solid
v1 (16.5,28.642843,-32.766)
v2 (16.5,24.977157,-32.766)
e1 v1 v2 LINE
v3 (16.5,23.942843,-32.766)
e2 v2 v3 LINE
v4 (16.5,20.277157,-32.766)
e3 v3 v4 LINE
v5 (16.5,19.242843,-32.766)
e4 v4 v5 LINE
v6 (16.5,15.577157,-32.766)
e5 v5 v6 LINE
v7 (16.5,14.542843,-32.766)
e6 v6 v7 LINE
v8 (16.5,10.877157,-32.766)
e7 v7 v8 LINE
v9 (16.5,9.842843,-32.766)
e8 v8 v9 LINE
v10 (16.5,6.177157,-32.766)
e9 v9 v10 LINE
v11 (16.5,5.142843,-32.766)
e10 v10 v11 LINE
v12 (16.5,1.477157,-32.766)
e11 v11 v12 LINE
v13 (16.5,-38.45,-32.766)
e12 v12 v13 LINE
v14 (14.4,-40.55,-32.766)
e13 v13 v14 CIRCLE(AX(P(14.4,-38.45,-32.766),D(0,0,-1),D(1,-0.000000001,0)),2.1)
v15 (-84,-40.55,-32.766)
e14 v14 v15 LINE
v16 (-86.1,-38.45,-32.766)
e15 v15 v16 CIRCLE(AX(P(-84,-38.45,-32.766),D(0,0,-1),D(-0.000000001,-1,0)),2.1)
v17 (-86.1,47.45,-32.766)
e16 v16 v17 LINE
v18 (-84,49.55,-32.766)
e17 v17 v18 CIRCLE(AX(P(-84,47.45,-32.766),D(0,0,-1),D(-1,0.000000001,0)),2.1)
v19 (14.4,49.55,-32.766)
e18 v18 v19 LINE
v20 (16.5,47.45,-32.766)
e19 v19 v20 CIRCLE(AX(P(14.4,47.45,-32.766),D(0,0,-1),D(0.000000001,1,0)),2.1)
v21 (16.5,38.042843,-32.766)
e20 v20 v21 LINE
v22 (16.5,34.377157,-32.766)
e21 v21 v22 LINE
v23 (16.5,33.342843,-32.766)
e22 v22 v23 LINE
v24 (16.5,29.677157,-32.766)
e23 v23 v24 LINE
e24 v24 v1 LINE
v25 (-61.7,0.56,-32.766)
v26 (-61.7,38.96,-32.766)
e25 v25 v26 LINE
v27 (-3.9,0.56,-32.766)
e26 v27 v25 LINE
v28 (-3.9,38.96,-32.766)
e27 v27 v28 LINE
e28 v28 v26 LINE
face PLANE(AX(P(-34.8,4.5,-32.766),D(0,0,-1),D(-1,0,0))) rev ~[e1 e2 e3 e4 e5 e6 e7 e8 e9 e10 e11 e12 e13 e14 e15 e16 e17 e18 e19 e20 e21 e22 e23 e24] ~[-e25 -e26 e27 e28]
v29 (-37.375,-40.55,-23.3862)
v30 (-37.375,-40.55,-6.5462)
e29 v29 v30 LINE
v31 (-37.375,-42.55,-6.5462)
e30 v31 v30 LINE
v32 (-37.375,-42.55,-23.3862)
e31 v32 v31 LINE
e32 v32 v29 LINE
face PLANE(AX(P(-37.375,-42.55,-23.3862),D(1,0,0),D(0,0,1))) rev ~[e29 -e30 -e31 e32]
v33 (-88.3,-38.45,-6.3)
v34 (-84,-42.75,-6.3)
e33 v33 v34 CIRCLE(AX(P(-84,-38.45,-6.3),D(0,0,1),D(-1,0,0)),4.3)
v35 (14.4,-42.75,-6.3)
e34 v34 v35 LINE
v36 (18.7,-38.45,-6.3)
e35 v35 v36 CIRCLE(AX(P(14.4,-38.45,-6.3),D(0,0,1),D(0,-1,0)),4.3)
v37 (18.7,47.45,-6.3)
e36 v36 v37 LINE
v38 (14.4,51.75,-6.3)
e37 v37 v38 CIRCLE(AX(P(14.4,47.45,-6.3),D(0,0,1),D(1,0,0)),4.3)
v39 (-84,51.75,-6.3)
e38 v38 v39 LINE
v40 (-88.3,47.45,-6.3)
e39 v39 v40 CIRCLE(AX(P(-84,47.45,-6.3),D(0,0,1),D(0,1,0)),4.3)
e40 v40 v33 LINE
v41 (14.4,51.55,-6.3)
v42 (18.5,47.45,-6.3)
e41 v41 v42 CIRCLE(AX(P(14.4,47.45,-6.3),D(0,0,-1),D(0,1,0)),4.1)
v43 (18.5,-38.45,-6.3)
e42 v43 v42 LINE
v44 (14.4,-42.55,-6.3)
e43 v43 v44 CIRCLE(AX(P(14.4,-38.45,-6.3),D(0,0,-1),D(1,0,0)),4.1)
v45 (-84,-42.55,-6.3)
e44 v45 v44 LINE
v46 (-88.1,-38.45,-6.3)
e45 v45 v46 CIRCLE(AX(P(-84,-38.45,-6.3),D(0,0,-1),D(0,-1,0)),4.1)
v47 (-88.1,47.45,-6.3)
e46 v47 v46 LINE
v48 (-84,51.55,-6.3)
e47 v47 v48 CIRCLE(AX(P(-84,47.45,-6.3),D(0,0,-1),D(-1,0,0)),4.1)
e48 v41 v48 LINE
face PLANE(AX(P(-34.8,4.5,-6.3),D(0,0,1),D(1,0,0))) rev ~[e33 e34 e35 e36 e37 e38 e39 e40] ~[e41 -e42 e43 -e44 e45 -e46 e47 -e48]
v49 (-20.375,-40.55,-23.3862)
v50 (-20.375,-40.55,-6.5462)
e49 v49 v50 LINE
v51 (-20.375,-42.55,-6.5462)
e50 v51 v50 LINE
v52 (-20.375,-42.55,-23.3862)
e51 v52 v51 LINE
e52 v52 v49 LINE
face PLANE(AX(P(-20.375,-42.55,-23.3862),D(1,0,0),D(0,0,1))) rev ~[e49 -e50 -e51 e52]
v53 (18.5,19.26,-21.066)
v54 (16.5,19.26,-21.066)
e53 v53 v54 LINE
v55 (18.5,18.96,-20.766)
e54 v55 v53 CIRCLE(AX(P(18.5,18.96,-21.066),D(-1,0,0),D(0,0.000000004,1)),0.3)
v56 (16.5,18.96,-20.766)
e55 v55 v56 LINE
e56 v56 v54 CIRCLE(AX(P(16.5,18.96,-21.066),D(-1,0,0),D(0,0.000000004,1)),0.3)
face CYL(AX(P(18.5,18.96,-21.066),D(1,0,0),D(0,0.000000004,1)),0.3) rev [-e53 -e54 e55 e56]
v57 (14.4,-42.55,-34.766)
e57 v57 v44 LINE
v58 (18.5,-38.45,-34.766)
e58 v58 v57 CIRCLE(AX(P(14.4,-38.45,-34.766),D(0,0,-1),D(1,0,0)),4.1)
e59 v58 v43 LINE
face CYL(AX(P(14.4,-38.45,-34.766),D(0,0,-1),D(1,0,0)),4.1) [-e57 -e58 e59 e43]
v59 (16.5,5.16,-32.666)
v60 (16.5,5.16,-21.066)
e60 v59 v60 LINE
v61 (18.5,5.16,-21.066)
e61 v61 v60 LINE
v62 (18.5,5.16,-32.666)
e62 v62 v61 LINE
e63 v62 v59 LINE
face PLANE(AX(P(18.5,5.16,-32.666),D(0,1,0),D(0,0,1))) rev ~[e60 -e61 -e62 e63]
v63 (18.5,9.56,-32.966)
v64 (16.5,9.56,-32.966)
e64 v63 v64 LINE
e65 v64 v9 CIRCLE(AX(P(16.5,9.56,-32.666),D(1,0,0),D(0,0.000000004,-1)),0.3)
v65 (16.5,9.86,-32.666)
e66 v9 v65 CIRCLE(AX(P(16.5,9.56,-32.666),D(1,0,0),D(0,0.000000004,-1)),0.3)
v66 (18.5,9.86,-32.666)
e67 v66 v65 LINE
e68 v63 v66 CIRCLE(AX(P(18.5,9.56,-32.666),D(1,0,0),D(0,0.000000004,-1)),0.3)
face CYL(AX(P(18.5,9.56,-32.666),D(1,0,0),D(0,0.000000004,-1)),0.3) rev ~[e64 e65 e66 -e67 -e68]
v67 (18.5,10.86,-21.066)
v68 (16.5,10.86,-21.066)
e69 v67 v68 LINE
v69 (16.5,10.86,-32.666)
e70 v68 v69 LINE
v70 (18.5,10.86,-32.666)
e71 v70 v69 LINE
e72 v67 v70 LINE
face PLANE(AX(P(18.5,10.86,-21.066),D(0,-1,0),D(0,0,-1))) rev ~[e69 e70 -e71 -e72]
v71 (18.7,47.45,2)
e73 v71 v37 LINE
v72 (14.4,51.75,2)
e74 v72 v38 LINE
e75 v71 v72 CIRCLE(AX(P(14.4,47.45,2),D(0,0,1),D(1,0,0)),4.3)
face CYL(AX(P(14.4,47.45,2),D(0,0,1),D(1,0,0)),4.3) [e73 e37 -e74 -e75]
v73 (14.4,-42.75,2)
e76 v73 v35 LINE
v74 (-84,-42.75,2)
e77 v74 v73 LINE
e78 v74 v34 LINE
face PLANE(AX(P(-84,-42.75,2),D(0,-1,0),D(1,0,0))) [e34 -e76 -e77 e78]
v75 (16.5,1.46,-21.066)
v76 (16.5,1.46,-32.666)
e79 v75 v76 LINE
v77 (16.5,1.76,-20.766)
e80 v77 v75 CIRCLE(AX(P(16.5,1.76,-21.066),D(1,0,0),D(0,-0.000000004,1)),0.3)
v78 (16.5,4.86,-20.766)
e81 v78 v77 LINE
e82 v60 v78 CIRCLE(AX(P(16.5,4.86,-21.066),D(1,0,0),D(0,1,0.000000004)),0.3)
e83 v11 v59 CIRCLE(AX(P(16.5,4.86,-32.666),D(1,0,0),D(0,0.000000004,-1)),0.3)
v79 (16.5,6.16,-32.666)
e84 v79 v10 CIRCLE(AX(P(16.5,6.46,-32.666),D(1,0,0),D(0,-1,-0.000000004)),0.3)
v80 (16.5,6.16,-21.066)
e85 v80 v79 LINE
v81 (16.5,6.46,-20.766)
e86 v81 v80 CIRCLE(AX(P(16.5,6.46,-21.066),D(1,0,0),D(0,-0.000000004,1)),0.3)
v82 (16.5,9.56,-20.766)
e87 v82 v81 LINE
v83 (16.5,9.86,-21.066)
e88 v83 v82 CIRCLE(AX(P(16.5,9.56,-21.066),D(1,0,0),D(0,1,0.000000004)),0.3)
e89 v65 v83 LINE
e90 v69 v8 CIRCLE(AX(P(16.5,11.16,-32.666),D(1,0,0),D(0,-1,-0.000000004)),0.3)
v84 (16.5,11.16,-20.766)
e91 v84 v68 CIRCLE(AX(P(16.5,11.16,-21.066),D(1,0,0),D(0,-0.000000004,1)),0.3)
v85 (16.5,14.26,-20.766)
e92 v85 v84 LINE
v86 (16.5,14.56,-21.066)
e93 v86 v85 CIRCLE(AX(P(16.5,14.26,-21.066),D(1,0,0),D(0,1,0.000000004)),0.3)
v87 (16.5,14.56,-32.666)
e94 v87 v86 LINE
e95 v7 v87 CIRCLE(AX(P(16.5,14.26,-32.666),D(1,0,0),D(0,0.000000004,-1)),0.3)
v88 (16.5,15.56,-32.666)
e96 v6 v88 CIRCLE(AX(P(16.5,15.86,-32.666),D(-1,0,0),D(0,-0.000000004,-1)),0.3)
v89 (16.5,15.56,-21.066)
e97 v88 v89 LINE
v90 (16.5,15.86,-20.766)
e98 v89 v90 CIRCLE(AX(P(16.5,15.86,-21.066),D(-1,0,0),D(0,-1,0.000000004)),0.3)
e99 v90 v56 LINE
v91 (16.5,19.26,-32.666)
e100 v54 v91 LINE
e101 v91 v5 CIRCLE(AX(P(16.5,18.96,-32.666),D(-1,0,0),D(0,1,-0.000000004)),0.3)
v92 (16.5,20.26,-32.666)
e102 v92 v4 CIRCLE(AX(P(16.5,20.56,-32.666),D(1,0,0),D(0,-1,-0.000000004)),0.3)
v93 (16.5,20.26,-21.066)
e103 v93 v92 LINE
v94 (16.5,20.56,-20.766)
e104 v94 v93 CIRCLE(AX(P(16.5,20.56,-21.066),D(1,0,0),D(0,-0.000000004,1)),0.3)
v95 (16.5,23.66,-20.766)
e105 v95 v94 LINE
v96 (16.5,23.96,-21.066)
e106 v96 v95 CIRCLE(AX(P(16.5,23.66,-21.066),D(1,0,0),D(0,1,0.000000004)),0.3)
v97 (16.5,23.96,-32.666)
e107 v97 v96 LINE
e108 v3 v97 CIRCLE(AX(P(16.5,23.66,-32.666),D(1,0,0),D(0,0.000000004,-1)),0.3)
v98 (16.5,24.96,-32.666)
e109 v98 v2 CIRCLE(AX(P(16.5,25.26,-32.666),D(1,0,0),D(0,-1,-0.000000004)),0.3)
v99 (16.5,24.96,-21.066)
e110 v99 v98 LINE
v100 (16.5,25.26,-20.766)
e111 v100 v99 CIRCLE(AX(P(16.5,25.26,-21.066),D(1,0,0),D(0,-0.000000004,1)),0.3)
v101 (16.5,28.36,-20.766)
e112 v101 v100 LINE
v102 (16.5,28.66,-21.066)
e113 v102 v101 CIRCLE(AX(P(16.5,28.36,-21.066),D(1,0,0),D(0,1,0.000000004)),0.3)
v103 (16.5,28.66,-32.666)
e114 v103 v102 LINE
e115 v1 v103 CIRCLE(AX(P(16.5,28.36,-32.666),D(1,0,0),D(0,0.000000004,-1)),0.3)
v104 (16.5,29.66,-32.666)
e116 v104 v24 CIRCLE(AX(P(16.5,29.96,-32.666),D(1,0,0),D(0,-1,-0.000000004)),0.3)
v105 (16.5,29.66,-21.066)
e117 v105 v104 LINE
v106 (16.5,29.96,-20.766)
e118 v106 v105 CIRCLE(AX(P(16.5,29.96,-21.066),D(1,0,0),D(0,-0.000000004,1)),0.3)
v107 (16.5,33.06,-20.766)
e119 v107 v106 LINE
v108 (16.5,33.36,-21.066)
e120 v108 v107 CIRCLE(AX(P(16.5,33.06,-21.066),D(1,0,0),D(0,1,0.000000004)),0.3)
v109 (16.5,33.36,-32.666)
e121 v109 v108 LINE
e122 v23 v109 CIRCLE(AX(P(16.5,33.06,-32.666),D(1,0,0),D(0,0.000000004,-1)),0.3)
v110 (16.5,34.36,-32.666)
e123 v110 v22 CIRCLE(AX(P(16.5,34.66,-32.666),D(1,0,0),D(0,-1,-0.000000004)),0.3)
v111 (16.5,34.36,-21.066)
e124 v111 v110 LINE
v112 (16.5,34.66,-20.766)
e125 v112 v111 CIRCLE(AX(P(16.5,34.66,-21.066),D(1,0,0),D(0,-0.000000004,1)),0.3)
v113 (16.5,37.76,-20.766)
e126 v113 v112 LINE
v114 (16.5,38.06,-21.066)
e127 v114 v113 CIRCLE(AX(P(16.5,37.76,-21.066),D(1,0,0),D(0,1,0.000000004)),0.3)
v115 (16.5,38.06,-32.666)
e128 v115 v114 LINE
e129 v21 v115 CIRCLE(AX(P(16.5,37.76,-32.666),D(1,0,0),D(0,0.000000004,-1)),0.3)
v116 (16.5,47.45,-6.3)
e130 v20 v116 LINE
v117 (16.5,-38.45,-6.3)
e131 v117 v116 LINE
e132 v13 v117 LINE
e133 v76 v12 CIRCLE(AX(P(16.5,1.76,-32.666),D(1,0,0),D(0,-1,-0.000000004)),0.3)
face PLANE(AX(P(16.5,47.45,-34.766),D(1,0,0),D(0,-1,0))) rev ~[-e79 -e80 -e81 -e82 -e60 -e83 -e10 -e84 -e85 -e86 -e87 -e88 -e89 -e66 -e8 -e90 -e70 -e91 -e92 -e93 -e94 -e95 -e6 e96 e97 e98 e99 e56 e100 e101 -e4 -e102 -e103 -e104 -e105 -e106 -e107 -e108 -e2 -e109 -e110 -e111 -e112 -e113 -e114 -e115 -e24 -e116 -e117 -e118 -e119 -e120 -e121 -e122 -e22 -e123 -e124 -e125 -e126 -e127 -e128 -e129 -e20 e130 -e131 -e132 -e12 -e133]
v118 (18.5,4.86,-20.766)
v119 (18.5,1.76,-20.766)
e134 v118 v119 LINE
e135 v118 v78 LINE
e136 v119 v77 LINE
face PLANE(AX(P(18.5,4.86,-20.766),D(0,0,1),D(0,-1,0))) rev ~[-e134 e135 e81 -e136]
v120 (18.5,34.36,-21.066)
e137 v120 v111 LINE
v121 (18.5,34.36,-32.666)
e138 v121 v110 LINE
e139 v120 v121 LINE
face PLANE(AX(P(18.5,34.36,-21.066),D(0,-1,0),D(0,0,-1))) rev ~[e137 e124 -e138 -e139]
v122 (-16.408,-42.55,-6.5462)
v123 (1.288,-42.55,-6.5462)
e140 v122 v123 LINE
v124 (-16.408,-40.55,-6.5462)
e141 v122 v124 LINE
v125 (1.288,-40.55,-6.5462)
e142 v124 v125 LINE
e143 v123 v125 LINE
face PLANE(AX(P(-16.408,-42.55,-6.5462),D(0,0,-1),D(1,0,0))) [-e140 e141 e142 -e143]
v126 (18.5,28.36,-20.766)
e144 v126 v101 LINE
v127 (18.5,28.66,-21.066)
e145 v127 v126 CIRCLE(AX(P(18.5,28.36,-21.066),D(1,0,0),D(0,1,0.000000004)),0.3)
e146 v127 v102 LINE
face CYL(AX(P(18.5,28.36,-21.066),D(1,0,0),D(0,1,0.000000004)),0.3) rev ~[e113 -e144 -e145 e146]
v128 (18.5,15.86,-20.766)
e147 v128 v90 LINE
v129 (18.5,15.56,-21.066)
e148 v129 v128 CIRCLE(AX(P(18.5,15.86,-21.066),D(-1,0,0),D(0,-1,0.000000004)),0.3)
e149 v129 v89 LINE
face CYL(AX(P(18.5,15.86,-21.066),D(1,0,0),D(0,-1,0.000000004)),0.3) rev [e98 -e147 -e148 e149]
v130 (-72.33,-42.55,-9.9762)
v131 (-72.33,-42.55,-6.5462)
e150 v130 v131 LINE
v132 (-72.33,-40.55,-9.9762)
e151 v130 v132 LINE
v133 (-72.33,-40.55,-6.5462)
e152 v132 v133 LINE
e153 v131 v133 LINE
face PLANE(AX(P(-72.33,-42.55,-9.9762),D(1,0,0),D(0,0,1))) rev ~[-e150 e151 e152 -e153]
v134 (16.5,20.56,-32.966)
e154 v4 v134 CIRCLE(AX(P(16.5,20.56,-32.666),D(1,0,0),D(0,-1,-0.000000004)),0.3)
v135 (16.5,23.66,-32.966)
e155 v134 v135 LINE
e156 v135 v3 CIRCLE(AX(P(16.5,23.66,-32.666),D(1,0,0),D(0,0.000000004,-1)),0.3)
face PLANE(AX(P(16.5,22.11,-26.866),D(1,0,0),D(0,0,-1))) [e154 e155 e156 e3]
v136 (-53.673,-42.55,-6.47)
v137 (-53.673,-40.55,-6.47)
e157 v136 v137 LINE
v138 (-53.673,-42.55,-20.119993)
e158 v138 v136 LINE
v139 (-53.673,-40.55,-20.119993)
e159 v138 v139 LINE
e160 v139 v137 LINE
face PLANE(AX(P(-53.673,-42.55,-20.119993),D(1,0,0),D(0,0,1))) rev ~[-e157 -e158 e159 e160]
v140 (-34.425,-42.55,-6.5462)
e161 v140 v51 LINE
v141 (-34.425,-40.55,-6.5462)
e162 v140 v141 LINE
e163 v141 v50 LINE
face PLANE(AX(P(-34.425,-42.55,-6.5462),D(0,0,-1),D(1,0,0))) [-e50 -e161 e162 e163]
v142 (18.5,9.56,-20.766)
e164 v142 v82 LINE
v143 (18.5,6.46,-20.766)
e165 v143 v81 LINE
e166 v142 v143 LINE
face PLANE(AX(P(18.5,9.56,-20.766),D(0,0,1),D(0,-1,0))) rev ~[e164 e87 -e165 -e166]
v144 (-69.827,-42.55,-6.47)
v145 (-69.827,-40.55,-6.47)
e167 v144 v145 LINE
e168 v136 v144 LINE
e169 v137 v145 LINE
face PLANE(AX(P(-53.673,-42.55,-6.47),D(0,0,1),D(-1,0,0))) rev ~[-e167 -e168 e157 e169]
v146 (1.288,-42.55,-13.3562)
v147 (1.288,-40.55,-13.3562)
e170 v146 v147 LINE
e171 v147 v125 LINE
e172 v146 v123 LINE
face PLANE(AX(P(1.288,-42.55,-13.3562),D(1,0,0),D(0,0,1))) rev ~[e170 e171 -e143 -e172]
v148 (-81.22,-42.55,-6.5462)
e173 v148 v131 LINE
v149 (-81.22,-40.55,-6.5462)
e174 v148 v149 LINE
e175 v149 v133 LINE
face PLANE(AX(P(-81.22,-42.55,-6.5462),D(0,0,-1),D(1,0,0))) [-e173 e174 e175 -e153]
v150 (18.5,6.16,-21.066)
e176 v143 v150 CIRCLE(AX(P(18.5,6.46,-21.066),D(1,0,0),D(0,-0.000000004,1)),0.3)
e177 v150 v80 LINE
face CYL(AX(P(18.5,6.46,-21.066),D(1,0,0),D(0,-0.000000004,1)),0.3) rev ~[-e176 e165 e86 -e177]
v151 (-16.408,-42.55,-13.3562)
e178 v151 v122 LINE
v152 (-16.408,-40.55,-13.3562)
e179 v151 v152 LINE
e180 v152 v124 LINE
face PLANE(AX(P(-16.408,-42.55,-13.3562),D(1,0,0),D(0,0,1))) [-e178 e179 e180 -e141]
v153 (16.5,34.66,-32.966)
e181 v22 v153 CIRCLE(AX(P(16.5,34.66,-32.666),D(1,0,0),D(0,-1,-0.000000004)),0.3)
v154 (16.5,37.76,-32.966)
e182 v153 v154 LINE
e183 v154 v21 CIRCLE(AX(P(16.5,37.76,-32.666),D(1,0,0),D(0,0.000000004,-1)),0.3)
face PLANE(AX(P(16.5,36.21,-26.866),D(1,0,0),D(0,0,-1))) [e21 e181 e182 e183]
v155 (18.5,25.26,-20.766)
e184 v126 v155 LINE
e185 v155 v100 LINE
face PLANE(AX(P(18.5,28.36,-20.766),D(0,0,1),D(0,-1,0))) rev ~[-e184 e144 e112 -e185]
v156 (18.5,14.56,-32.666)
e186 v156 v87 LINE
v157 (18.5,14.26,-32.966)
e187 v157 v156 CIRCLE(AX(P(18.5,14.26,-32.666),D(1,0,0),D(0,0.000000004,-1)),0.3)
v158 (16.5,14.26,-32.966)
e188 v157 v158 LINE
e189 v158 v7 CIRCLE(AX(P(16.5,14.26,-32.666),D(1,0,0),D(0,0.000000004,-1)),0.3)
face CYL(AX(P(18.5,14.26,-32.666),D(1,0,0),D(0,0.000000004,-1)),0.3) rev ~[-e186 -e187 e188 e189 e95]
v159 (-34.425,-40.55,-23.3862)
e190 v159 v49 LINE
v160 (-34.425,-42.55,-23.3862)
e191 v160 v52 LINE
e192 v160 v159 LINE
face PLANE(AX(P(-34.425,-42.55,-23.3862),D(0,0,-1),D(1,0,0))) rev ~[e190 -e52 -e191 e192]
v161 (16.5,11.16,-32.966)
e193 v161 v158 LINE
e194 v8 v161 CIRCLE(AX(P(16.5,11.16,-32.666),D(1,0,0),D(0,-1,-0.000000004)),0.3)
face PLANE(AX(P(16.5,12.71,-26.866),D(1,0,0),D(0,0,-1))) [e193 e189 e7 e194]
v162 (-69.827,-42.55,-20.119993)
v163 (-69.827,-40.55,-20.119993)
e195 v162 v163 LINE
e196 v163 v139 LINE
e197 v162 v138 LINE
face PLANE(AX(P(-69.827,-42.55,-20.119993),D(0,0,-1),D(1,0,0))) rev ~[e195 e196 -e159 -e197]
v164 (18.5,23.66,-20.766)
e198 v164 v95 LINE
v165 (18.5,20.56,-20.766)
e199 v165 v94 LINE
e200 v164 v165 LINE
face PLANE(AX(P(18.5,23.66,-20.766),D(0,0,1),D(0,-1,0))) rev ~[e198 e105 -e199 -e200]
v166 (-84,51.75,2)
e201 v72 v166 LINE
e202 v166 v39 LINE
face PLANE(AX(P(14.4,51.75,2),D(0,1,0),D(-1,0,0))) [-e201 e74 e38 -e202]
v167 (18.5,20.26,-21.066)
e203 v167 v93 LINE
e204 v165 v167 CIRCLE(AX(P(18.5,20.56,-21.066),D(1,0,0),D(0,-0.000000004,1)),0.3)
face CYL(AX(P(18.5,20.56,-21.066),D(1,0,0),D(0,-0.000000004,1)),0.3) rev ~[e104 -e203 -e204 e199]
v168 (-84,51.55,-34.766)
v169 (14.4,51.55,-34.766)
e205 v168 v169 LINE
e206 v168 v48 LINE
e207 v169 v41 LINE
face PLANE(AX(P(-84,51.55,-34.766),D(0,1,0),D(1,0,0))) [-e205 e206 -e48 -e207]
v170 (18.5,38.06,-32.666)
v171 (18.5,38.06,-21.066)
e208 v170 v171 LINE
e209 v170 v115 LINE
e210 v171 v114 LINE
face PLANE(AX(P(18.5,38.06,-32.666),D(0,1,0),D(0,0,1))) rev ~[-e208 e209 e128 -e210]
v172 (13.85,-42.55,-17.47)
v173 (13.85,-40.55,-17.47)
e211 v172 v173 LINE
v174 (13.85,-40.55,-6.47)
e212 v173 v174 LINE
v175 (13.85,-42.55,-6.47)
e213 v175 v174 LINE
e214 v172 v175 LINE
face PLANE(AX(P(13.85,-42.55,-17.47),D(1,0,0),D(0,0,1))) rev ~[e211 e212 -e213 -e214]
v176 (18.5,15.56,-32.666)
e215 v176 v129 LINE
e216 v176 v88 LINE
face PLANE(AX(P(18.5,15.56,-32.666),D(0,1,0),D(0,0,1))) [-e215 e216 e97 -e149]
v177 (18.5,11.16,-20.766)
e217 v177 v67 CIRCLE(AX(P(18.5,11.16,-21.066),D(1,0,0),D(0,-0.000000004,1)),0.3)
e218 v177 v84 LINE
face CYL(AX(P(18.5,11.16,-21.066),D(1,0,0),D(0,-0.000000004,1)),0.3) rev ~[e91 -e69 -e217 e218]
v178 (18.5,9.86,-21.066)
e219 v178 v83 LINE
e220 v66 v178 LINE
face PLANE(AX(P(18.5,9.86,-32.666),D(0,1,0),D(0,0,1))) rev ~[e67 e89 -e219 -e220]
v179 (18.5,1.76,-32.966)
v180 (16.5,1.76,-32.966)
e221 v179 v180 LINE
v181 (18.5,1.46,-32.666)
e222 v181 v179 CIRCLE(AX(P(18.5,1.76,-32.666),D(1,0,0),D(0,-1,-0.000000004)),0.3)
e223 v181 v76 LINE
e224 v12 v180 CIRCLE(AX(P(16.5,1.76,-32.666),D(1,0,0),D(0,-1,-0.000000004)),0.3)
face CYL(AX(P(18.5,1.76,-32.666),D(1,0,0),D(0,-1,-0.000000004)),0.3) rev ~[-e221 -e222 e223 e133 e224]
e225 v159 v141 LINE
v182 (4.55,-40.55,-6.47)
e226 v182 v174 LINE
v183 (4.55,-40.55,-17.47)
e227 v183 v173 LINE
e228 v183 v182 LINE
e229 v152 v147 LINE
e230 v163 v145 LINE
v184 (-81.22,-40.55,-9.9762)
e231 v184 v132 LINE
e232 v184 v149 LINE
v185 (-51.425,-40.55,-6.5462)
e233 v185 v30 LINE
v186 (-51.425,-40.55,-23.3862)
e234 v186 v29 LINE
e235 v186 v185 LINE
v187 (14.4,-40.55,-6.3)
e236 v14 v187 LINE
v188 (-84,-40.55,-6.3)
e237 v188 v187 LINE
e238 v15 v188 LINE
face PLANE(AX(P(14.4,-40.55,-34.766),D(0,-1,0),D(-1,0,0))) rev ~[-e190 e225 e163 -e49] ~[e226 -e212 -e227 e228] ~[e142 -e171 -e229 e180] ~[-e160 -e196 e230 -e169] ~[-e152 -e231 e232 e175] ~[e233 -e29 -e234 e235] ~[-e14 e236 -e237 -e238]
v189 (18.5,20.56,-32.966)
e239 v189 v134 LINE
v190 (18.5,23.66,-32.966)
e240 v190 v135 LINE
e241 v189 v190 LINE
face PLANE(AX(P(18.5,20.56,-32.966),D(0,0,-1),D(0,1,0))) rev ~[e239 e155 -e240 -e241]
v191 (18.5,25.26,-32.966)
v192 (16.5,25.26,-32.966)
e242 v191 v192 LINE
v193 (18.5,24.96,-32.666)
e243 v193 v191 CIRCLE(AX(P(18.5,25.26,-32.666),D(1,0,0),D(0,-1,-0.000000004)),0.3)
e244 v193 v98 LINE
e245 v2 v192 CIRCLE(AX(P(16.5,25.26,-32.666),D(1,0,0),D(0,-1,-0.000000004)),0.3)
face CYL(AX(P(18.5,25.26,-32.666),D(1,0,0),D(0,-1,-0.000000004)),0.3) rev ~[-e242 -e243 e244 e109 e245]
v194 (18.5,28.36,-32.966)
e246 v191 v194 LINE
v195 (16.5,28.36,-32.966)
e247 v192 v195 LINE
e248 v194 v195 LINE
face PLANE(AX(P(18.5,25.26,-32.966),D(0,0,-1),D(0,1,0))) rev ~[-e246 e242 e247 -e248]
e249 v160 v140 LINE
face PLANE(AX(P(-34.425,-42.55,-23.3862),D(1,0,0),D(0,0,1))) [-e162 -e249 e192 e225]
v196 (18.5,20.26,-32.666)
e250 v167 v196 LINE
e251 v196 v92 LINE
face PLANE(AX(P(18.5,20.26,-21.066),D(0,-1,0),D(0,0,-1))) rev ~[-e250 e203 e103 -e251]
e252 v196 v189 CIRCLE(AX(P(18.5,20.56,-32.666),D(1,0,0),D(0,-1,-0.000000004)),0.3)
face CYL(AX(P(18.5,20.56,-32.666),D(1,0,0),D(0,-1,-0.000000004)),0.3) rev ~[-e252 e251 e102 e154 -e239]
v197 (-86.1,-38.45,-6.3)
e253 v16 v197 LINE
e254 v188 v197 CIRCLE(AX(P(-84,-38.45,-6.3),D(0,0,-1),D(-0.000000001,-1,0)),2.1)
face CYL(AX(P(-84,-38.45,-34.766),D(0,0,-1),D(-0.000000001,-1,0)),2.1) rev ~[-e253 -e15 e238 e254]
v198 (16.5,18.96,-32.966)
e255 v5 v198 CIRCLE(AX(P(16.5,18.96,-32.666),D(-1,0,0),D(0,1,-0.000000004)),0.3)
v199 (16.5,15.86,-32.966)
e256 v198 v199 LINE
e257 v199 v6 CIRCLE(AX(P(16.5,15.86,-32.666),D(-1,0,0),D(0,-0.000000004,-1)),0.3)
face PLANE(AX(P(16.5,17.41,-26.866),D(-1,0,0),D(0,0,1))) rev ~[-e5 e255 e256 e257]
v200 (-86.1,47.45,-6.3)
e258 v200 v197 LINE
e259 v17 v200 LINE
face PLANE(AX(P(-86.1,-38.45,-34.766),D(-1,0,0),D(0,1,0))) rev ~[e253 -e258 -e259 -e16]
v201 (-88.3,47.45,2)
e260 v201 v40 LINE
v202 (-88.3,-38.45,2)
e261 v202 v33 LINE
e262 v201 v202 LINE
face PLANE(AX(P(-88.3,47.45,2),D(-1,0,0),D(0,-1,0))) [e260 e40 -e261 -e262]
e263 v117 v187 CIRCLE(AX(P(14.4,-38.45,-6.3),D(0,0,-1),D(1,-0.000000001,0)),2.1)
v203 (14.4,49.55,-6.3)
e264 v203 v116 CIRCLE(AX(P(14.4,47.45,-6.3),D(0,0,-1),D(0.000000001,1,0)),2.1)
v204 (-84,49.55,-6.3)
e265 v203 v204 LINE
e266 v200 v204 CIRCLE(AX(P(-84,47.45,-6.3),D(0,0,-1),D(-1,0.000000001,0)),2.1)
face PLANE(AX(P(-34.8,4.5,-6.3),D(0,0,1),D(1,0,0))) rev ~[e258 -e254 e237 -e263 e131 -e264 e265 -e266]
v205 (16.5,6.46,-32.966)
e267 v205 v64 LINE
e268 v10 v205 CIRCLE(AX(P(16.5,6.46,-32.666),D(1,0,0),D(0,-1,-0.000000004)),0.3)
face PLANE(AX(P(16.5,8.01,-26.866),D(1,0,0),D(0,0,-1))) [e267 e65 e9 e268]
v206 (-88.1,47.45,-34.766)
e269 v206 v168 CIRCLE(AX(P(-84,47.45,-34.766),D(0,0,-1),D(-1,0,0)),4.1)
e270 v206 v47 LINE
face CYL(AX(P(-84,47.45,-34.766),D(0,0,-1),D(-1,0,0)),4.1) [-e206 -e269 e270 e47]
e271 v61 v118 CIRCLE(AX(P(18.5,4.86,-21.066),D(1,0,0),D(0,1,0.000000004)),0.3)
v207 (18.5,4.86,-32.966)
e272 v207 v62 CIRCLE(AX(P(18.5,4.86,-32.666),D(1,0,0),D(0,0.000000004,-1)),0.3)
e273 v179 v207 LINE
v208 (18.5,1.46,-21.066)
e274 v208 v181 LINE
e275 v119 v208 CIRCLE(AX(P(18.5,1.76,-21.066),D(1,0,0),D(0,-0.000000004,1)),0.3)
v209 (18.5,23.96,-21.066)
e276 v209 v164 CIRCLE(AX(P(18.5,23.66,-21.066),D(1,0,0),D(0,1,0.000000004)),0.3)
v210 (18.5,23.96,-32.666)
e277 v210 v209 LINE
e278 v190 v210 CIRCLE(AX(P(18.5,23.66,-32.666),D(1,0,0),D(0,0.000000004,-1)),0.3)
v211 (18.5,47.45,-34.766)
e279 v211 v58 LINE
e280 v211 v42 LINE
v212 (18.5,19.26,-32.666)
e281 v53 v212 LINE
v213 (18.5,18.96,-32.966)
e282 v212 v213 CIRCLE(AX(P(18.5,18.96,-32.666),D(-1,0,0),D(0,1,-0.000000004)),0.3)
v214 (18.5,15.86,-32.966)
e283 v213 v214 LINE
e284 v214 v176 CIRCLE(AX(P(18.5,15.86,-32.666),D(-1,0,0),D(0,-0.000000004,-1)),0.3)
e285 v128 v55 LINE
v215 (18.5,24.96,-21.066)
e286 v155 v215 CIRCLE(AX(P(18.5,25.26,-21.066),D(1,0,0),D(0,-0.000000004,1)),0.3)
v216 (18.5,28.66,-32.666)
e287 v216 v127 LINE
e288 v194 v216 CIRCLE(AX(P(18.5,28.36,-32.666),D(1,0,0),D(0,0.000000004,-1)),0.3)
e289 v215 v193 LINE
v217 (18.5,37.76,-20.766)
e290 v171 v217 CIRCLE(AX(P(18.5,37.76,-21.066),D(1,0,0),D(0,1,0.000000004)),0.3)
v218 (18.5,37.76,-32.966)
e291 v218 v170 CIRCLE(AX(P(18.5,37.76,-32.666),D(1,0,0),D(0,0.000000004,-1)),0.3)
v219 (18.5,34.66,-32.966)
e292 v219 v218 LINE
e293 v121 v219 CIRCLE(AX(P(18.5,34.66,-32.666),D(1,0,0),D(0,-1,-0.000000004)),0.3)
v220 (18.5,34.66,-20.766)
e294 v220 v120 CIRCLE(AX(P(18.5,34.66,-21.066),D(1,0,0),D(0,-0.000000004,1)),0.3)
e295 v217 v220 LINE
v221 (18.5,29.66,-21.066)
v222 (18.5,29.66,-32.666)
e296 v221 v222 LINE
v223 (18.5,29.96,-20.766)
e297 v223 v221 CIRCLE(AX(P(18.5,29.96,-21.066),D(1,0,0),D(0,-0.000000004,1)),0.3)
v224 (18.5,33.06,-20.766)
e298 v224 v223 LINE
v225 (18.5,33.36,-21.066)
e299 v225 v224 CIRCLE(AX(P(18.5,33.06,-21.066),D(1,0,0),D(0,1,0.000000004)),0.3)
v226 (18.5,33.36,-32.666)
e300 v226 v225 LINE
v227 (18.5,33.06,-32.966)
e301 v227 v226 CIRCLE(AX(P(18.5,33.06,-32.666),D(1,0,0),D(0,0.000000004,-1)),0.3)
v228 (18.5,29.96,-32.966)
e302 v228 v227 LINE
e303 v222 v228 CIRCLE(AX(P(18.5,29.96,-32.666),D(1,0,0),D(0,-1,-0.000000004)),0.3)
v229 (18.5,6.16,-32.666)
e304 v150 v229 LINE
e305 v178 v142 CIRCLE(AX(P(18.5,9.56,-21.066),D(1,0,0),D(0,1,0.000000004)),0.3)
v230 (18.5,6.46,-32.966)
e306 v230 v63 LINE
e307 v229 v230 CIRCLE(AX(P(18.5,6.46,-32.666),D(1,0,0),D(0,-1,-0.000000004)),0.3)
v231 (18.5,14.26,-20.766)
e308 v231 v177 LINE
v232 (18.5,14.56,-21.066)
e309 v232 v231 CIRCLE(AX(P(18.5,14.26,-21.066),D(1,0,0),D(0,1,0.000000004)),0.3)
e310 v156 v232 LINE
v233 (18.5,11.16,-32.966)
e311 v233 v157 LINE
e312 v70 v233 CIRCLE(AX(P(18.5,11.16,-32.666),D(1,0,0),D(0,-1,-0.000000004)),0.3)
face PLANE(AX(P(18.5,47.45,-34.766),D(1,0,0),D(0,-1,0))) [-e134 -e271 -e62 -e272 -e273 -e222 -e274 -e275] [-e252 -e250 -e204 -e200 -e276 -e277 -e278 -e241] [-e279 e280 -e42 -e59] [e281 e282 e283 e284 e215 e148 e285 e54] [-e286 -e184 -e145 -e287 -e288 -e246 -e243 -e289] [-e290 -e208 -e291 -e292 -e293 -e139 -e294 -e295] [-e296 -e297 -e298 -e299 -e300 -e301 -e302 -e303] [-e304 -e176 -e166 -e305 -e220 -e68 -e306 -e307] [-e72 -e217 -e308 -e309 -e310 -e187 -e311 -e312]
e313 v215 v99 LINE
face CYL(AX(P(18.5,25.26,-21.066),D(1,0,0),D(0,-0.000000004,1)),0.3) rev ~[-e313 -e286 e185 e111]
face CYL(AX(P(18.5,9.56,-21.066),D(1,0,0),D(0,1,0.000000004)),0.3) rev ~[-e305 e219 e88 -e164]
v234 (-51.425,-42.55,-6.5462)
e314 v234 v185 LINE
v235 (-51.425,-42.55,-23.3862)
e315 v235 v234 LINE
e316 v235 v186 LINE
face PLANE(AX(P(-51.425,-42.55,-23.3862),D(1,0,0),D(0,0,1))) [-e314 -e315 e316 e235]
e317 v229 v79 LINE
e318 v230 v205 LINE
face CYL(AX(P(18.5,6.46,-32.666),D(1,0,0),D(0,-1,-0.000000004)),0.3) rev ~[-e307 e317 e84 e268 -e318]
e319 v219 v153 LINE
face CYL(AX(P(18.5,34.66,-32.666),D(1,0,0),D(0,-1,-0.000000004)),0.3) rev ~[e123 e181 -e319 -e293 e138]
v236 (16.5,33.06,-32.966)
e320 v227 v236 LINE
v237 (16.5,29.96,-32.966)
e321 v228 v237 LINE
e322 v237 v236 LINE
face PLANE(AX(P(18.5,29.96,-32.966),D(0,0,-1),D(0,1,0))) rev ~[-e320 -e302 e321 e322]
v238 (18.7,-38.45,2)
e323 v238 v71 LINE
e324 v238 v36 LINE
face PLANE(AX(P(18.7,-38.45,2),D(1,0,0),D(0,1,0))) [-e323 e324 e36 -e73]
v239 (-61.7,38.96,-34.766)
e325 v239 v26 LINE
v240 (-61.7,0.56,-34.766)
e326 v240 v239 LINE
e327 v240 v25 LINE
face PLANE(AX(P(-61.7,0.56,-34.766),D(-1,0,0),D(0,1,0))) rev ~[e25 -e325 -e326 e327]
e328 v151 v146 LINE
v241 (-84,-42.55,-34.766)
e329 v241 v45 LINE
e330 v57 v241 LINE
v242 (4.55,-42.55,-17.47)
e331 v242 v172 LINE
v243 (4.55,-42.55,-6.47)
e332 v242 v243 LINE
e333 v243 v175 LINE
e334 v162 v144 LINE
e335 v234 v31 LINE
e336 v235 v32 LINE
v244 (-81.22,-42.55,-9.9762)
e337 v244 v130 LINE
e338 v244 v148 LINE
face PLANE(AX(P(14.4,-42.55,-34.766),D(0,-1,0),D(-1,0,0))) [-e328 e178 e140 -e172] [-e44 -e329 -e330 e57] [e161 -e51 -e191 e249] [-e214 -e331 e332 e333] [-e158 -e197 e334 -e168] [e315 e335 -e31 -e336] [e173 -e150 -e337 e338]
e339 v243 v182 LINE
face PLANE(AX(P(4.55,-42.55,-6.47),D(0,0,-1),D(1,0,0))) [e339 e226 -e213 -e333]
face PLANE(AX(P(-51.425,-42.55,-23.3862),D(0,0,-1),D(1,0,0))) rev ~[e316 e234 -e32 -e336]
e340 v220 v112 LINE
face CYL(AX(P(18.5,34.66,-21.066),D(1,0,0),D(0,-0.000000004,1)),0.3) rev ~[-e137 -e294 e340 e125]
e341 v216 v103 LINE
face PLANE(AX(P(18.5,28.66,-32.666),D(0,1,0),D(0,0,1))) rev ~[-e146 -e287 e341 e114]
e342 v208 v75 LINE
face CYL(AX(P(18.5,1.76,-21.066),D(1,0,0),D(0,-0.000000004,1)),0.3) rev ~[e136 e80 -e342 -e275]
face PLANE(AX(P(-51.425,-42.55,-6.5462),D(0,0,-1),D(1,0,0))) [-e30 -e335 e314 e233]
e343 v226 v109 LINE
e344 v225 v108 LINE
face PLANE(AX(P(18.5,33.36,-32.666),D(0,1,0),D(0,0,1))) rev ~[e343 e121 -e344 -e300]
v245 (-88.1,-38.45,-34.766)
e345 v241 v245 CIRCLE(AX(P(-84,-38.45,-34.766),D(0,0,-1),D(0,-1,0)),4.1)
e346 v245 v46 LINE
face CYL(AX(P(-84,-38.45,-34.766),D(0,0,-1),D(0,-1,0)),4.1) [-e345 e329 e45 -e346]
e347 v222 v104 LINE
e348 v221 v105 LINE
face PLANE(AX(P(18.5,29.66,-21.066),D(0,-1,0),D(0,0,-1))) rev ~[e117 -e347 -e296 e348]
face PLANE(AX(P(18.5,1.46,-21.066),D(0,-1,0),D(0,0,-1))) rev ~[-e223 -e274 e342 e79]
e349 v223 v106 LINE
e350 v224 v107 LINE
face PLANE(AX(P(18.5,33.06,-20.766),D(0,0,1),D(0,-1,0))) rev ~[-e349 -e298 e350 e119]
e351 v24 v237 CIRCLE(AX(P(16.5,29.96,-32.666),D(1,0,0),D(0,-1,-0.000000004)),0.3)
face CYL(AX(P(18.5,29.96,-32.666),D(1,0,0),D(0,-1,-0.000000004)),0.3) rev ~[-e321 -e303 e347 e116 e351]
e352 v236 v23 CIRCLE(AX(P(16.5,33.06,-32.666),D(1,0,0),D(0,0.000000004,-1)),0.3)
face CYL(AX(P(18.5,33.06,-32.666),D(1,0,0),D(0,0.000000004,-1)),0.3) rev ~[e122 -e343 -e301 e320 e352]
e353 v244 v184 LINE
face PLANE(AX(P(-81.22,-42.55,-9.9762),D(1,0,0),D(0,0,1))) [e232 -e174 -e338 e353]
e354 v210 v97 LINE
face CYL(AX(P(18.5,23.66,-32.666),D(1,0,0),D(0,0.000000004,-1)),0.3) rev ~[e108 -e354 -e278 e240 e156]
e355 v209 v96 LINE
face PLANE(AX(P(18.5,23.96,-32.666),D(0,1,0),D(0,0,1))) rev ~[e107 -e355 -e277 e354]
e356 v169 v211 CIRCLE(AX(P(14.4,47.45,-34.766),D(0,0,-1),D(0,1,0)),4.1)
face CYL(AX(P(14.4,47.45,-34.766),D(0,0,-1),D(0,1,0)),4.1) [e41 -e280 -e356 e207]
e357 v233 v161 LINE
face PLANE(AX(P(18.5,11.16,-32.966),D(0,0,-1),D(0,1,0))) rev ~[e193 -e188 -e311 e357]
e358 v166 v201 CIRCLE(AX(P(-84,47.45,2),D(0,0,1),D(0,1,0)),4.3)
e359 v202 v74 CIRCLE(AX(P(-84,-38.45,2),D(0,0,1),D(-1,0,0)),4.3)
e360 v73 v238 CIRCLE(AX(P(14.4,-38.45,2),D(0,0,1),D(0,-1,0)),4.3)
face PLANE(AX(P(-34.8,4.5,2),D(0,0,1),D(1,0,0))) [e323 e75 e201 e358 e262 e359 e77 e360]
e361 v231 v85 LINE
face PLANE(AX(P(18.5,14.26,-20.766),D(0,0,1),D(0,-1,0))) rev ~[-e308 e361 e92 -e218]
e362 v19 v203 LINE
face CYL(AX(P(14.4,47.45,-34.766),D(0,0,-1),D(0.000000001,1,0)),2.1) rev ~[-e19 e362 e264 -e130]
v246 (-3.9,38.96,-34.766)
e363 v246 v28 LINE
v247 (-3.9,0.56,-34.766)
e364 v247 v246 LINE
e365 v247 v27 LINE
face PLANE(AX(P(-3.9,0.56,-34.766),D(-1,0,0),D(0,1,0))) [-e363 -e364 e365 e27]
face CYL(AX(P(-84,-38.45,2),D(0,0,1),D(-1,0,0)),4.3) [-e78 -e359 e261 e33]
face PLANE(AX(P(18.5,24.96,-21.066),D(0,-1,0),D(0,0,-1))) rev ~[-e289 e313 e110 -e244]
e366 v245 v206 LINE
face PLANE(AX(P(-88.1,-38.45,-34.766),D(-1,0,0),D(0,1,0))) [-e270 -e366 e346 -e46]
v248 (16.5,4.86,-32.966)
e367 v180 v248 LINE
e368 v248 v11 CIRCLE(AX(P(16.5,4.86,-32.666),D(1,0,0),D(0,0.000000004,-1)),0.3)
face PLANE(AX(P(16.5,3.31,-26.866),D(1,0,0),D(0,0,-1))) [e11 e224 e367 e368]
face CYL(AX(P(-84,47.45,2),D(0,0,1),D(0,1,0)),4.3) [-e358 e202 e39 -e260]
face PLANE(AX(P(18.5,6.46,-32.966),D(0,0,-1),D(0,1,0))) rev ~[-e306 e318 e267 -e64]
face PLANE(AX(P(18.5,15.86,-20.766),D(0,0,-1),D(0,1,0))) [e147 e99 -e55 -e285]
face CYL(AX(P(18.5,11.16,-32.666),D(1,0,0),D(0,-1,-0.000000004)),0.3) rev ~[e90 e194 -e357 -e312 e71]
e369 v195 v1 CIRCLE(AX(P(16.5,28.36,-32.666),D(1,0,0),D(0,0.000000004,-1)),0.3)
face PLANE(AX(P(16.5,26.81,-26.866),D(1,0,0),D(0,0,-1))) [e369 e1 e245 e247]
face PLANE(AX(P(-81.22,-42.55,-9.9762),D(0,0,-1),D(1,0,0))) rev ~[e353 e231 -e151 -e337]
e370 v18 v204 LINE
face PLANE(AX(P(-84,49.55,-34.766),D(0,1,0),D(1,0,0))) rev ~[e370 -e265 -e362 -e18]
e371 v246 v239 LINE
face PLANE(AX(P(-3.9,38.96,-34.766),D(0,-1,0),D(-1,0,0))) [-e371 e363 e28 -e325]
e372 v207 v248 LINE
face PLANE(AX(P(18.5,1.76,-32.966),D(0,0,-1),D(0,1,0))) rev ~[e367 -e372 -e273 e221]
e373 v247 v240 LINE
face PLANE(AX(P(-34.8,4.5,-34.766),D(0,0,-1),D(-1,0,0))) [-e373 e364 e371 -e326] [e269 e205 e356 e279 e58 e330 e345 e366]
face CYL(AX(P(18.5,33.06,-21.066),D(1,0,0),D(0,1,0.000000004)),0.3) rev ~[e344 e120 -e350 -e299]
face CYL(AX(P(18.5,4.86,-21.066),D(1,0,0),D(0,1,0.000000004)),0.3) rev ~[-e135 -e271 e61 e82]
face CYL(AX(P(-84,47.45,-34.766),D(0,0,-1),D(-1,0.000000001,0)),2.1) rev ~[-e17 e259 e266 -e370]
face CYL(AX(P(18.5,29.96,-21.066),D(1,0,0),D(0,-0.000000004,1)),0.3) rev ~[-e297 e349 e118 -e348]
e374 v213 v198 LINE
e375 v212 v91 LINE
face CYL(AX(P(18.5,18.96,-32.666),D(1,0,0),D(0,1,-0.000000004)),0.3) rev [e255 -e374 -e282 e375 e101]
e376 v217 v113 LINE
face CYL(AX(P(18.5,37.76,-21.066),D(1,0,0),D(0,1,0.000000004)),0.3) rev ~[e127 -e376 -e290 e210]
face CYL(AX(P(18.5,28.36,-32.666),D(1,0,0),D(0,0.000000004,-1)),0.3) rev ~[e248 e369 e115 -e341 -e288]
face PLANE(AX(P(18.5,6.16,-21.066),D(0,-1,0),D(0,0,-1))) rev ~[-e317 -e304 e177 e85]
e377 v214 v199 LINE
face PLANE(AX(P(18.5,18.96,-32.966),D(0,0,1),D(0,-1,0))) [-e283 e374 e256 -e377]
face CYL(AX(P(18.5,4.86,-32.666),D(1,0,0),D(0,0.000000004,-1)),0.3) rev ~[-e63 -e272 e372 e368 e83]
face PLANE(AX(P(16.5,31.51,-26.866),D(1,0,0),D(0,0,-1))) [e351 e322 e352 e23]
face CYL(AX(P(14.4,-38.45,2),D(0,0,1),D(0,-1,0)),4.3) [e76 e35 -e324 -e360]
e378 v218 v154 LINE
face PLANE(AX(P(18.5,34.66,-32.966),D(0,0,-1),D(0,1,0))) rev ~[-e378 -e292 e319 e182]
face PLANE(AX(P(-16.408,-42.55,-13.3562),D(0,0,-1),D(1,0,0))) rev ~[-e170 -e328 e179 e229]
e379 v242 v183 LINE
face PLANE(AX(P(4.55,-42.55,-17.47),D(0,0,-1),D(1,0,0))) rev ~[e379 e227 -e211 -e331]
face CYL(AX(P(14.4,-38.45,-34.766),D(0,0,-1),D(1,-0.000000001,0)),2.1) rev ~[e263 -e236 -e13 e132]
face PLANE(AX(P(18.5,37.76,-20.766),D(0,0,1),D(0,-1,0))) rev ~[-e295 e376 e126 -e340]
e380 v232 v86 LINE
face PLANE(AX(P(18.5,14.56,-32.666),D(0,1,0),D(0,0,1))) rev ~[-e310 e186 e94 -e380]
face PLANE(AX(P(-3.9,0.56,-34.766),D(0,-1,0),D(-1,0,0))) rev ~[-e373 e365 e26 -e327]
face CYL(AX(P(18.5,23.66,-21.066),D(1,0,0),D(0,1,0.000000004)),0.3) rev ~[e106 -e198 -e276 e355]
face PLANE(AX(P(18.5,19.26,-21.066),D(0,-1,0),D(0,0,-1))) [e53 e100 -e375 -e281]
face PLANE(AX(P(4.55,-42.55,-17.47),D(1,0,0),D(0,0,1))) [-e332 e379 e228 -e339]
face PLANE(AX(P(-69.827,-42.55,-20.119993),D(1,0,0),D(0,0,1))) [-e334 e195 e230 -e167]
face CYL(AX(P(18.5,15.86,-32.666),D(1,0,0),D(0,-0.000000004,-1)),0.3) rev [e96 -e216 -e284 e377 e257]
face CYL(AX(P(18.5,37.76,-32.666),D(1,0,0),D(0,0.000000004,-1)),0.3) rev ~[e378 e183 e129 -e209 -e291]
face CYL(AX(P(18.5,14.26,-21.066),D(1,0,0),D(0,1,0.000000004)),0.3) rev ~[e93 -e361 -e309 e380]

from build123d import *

# Parameters (mm, degrees)
BOSS_EXTRUDE1_DEPTH = 2
BOSS_EXTRUDE2_DEPTH = 8.3
SKETCH3_W           = 57.8
SKETCH3_H           = 38.4
BOSS_EXTRUDE3_DEPTH = 2
BOSS_EXTRUDE6_DEPTH = 30
SKETCH5_W           = 9.3
SKETCH5_H           = 11
SKETCH5_W_2         = 17.696
SKETCH5_H_2         = 6.81
SKETCH5_W_3         = 14.05
SKETCH5_H_3         = 16.84
SKETCH5_W_4         = 8.89
SKETCH5_H_4         = 3.43
SKETCH5_W_5         = 8.74
SKETCH5_H_5         = 13.649992795
SKETCH5_W_6         = 2
SKETCH5_W_7         = 1.707
CUT_EXTRUDE1_DEPTH  = 2
CUT_EXTRUDE2_DEPTH  = 2
CUT_EXTRUDE3_DEPTH  = 2
CUT_EXTRUDE4_DEPTH  = 2


with BuildPart() as part:
    # Sketch1 → Boss-Extrude1 (new body)
    with BuildSketch(Plane.XY):
        with BuildLine():
            Line((-86.3, 47.45), (-86.3, -38.45))
            ThreePointArc((-86.3, -38.45), (-85.626345597, -40.076345597), (-84, -40.75))
            Line((-84, -40.75), (14.4, -40.75))
            ThreePointArc((14.4, -40.75), (16.026345597, -40.076345597), (16.7, -38.45))
            Line((16.7, -38.45), (16.7, 47.45))
            ThreePointArc((16.7, 47.45), (16.026345597, 49.076345597), (14.4, 49.75))
            Line((14.4, 49.75), (-84, 49.75))
            ThreePointArc((-84, 49.75), (-85.626345597, 49.076345597), (-86.3, 47.45))
        make_face()
    extrude(amount=BOSS_EXTRUDE1_DEPTH)

    # Sketch2 → Boss-Extrude2 (add)
    with BuildSketch(Plane.XY.offset(2)):
        with BuildLine():
            Line((-88.3, 47.45), (-88.3, -38.45))
            ThreePointArc((-88.3, -38.45), (-87.040559159, -41.490559159), (-84, -42.75))
            Line((-84, -42.75), (14.4, -42.75))
            ThreePointArc((14.4, -42.75), (17.440559159, -41.490559159), (18.7, -38.45))
            Line((18.7, -38.45), (18.7, 47.45))
            ThreePointArc((18.7, 47.45), (17.440559159, 50.490559159), (14.4, 51.75))
            Line((14.4, 51.75), (-84, 51.75))
            ThreePointArc((-84, 51.75), (-87.040559159, 50.490559159), (-88.3, 47.45))
        make_face()
    extrude(amount=-BOSS_EXTRUDE2_DEPTH)



with BuildPart() as body_2:
    # Sketch3 → Boss-Extrude3 (new body)
    with BuildSketch(Plane(origin=(0, 0, -34.766), x_dir=(-1, 0, 0), z_dir=(0, 0, -1))):
        with BuildLine():
            Line((-14.4, -40.55), (84, -40.55))
            ThreePointArc((84, -40.55), (85.48492424, -39.93492424), (86.1, -38.45))
            Line((86.1, -38.45), (86.1, 47.45))
            ThreePointArc((86.1, 47.45), (85.48492424, 48.93492424), (84, 49.55))
            Line((84, 49.55), (-14.4, 49.55))
            ThreePointArc((-14.4, 49.55), (-15.88492424, 48.93492424), (-16.5, 47.45))
            Line((-16.5, 47.45), (-16.5, -38.45))
            ThreePointArc((-16.5, -38.45), (-15.88492424, -39.93492424), (-14.4, -40.55))
        make_face()
        with Locations((32.8, 19.76)):
            Rectangle(SKETCH3_W, SKETCH3_H, mode=Mode.SUBTRACT)
    extrude(amount=-BOSS_EXTRUDE3_DEPTH)


with BuildPart() as part_1:
    add(part.part)

    add(body_2.part)  # Boss-Extrude6 merges body 2
    # Sketch4 → Boss-Extrude6 (add)
    with BuildSketch(Plane(origin=(0, 0, -34.766), x_dir=(-1, 0, 0), z_dir=(0, 0, -1))):
        with BuildLine():
            Line((84, 51.55), (-14.4, 51.55))
            ThreePointArc((-14.4, 51.55), (-17.299137803, 50.349137803), (-18.5, 47.45))
            Line((-18.5, 47.45), (-18.5, -38.45))
            ThreePointArc((-18.5, -38.45), (-17.299137803, -41.349137803), (-14.4, -42.55))
            Line((-14.4, -42.55), (84, -42.55))
            ThreePointArc((84, -42.55), (86.899137803, -41.349137803), (88.1, -38.45))
            Line((88.1, -38.45), (88.1, 47.45))
            ThreePointArc((88.1, 47.45), (86.899137803, 50.349137803), (84, 51.55))
        make_face()
        with BuildLine():
            ThreePointArc((-16.5, -38.45), (-15.88492424, -39.93492424), (-14.4, -40.55))
            Line((-14.4, -40.55), (84, -40.55))
            ThreePointArc((84, -40.55), (85.48492424, -39.93492424), (86.1, -38.45))
            Line((86.1, -38.45), (86.1, 47.45))
            ThreePointArc((86.1, 47.45), (85.48492424, 48.93492424), (84, 49.55))
            Line((84, 49.55), (-14.4, 49.55))
            ThreePointArc((-14.4, 49.55), (-15.88492424, 48.93492424), (-16.5, 47.45))
            Line((-16.5, 47.45), (-16.5, -38.45))
        make_face(mode=Mode.SUBTRACT)
    extrude(amount=-BOSS_EXTRUDE6_DEPTH)

    # Sketch5 → Cut-Extrude1 (cut)
    with BuildSketch(Plane.XZ.offset(42.55)):
        with Locations((9.2, -11.97)):
            Rectangle(SKETCH5_W, SKETCH5_H)
        with Locations((-7.56, -9.9512)):
            Rectangle(SKETCH5_W_2, SKETCH5_H_2)
        with Locations((-27.4, -14.9662)):
            Rectangle(SKETCH5_W_3, SKETCH5_H_3)
        with Locations((-44.4, -14.9662)):
            Rectangle(SKETCH5_W_3, SKETCH5_H_3)
        with Locations((-76.775, -8.2612)):
            Rectangle(SKETCH5_W_4, SKETCH5_H_4)
        with Locations((-61.75, -13.294996398)):
            Rectangle(SKETCH5_W_5, SKETCH5_H_5)
        with Locations((-56.38, -13.294996398)):
            Rectangle(SKETCH5_W_6, SKETCH5_H_5)
        with Locations((-67.12, -13.294996398)):
            Rectangle(SKETCH5_W_6, SKETCH5_H_5)
        with Locations((-54.5265, -13.294996398)):
            Rectangle(SKETCH5_W_7, SKETCH5_H_5)
        with Locations((-68.9735, -13.294996398)):
            Rectangle(SKETCH5_W_7, SKETCH5_H_5)
    extrude(amount=-CUT_EXTRUDE1_DEPTH, mode=Mode.SUBTRACT)

    # Sketch6 → Cut-Extrude2 (cut)
    with BuildSketch(Plane(origin=(18.5, 0, 0), x_dir=(0, 0, -1), z_dir=(1, 0, 0))):
        with BuildLine():
            Line((32.966, 1.76), (32.966, 4.86))
            ThreePointArc((32.966, 4.86), (32.878132034, 5.072132034), (32.666, 5.16))
            Line((32.666, 5.16), (21.066, 5.16))
            ThreePointArc((21.066, 5.16), (20.853867966, 5.072132034), (20.766, 4.86))
            Line((20.766, 4.86), (20.766, 1.76))
            ThreePointArc((20.766, 1.76), (20.853867966, 1.547867966), (21.066, 1.46))
            Line((21.066, 1.46), (32.666, 1.46))
            ThreePointArc((32.666, 1.46), (32.878132034, 1.547867966), (32.966, 1.76))
        make_face()
    extrude(amount=-CUT_EXTRUDE2_DEPTH, mode=Mode.SUBTRACT)

    # Sketch7 → Cut-Extrude3 (cut)
    with BuildSketch(Plane(origin=(18.5, 0, 0), x_dir=(0, 0, -1), z_dir=(1, 0, 0))):
        with BuildLine():
            Line((20.766, 28.36), (20.766, 25.26))
            ThreePointArc((20.766, 25.26), (20.853867966, 25.047867966), (21.066, 24.96))
            Line((21.066, 24.96), (32.666, 24.96))
            ThreePointArc((32.666, 24.96), (32.878132034, 25.047867966), (32.966, 25.26))
            Line((32.966, 25.26), (32.966, 28.36))
            ThreePointArc((32.966, 28.36), (32.878132034, 28.572132034), (32.666, 28.66))
            Line((32.666, 28.66), (21.066, 28.66))
            ThreePointArc((21.066, 28.66), (20.853867966, 28.572132034), (20.766, 28.36))
        make_face()
        with BuildLine():
            Line((32.666, 23.96), (21.066, 23.96))
            ThreePointArc((21.066, 23.96), (20.853867966, 23.872132034), (20.766, 23.66))
            Line((20.766, 23.66), (20.766, 20.56))
            ThreePointArc((20.766, 20.56), (20.853867966, 20.347867966), (21.066, 20.26))
            Line((21.066, 20.26), (32.666, 20.26))
            ThreePointArc((32.666, 20.26), (32.878132034, 20.347867966), (32.966, 20.56))
            Line((32.966, 20.56), (32.966, 23.66))
            ThreePointArc((32.966, 23.66), (32.878132034, 23.872132034), (32.666, 23.96))
        make_face()
        with BuildLine():
            Line((32.666, 15.56), (21.066, 15.56))
            ThreePointArc((21.066, 15.56), (20.853867966, 15.647867966), (20.766, 15.86))
            Line((20.766, 15.86), (20.766, 18.96))
            ThreePointArc((20.766, 18.96), (20.853867966, 19.172132034), (21.066, 19.26))
            Line((21.066, 19.26), (32.666, 19.26))
            ThreePointArc((32.666, 19.26), (32.878132034, 19.172132034), (32.966, 18.96))
            Line((32.966, 18.96), (32.966, 15.86))
            ThreePointArc((32.966, 15.86), (32.878132034, 15.647867966), (32.666, 15.56))
        make_face()
        with BuildLine():
            Line((32.666, 14.56), (21.066, 14.56))
            ThreePointArc((21.066, 14.56), (20.853867966, 14.472132034), (20.766, 14.26))
            Line((20.766, 14.26), (20.766, 11.16))
            ThreePointArc((20.766, 11.16), (20.853867966, 10.947867966), (21.066, 10.86))
            Line((21.066, 10.86), (32.666, 10.86))
            ThreePointArc((32.666, 10.86), (32.878132034, 10.947867966), (32.966, 11.16))
            Line((32.966, 11.16), (32.966, 14.26))
            ThreePointArc((32.966, 14.26), (32.878132034, 14.472132034), (32.666, 14.56))
        make_face()
        with BuildLine():
            Line((20.766, 9.56), (20.766, 6.46))
            ThreePointArc((20.766, 6.46), (20.853867966, 6.247867966), (21.066, 6.16))
            Line((21.066, 6.16), (32.666, 6.16))
            ThreePointArc((32.666, 6.16), (32.878132034, 6.247867966), (32.966, 6.46))
            Line((32.966, 6.46), (32.966, 9.56))
            ThreePointArc((32.966, 9.56), (32.878132034, 9.772132034), (32.666, 9.86))
            Line((32.666, 9.86), (21.066, 9.86))
            ThreePointArc((21.066, 9.86), (20.853867966, 9.772132034), (20.766, 9.56))
        make_face()
    extrude(amount=-CUT_EXTRUDE3_DEPTH, mode=Mode.SUBTRACT)

    # Sketch10 → Cut-Extrude4 (cut)
    with BuildSketch(Plane(origin=(18.5, 0, 0), x_dir=(0, 0, -1), z_dir=(1, 0, 0))):
        with BuildLine():
            Line((32.966, 34.66), (32.966, 37.76))
            ThreePointArc((32.966, 37.76), (32.878132034, 37.972132034), (32.666, 38.06))
            Line((32.666, 38.06), (21.066, 38.06))
            ThreePointArc((21.066, 38.06), (20.853867966, 37.972132034), (20.766, 37.76))
            Line((20.766, 37.76), (20.766, 34.66))
            ThreePointArc((20.766, 34.66), (20.853867966, 34.447867966), (21.066, 34.36))
            Line((21.066, 34.36), (32.666, 34.36))
            ThreePointArc((32.666, 34.36), (32.878132034, 34.447867966), (32.966, 34.66))
        make_face()
        with BuildLine():
            Line((20.766, 33.06), (20.766, 29.96))
            ThreePointArc((20.766, 29.96), (20.853867966, 29.747867966), (21.066, 29.66))
            Line((21.066, 29.66), (32.666, 29.66))
            ThreePointArc((32.666, 29.66), (32.878132034, 29.747867966), (32.966, 29.96))
            Line((32.966, 29.96), (32.966, 33.06))
            ThreePointArc((32.966, 33.06), (32.878132034, 33.272132034), (32.666, 33.36))
            Line((32.666, 33.36), (21.066, 33.36))
            ThreePointArc((21.066, 33.36), (20.853867966, 33.272132034), (20.766, 33.06))
        make_face()
    extrude(amount=-CUT_EXTRUDE4_DEPTH, mode=Mode.SUBTRACT)


solid = part_1.part
